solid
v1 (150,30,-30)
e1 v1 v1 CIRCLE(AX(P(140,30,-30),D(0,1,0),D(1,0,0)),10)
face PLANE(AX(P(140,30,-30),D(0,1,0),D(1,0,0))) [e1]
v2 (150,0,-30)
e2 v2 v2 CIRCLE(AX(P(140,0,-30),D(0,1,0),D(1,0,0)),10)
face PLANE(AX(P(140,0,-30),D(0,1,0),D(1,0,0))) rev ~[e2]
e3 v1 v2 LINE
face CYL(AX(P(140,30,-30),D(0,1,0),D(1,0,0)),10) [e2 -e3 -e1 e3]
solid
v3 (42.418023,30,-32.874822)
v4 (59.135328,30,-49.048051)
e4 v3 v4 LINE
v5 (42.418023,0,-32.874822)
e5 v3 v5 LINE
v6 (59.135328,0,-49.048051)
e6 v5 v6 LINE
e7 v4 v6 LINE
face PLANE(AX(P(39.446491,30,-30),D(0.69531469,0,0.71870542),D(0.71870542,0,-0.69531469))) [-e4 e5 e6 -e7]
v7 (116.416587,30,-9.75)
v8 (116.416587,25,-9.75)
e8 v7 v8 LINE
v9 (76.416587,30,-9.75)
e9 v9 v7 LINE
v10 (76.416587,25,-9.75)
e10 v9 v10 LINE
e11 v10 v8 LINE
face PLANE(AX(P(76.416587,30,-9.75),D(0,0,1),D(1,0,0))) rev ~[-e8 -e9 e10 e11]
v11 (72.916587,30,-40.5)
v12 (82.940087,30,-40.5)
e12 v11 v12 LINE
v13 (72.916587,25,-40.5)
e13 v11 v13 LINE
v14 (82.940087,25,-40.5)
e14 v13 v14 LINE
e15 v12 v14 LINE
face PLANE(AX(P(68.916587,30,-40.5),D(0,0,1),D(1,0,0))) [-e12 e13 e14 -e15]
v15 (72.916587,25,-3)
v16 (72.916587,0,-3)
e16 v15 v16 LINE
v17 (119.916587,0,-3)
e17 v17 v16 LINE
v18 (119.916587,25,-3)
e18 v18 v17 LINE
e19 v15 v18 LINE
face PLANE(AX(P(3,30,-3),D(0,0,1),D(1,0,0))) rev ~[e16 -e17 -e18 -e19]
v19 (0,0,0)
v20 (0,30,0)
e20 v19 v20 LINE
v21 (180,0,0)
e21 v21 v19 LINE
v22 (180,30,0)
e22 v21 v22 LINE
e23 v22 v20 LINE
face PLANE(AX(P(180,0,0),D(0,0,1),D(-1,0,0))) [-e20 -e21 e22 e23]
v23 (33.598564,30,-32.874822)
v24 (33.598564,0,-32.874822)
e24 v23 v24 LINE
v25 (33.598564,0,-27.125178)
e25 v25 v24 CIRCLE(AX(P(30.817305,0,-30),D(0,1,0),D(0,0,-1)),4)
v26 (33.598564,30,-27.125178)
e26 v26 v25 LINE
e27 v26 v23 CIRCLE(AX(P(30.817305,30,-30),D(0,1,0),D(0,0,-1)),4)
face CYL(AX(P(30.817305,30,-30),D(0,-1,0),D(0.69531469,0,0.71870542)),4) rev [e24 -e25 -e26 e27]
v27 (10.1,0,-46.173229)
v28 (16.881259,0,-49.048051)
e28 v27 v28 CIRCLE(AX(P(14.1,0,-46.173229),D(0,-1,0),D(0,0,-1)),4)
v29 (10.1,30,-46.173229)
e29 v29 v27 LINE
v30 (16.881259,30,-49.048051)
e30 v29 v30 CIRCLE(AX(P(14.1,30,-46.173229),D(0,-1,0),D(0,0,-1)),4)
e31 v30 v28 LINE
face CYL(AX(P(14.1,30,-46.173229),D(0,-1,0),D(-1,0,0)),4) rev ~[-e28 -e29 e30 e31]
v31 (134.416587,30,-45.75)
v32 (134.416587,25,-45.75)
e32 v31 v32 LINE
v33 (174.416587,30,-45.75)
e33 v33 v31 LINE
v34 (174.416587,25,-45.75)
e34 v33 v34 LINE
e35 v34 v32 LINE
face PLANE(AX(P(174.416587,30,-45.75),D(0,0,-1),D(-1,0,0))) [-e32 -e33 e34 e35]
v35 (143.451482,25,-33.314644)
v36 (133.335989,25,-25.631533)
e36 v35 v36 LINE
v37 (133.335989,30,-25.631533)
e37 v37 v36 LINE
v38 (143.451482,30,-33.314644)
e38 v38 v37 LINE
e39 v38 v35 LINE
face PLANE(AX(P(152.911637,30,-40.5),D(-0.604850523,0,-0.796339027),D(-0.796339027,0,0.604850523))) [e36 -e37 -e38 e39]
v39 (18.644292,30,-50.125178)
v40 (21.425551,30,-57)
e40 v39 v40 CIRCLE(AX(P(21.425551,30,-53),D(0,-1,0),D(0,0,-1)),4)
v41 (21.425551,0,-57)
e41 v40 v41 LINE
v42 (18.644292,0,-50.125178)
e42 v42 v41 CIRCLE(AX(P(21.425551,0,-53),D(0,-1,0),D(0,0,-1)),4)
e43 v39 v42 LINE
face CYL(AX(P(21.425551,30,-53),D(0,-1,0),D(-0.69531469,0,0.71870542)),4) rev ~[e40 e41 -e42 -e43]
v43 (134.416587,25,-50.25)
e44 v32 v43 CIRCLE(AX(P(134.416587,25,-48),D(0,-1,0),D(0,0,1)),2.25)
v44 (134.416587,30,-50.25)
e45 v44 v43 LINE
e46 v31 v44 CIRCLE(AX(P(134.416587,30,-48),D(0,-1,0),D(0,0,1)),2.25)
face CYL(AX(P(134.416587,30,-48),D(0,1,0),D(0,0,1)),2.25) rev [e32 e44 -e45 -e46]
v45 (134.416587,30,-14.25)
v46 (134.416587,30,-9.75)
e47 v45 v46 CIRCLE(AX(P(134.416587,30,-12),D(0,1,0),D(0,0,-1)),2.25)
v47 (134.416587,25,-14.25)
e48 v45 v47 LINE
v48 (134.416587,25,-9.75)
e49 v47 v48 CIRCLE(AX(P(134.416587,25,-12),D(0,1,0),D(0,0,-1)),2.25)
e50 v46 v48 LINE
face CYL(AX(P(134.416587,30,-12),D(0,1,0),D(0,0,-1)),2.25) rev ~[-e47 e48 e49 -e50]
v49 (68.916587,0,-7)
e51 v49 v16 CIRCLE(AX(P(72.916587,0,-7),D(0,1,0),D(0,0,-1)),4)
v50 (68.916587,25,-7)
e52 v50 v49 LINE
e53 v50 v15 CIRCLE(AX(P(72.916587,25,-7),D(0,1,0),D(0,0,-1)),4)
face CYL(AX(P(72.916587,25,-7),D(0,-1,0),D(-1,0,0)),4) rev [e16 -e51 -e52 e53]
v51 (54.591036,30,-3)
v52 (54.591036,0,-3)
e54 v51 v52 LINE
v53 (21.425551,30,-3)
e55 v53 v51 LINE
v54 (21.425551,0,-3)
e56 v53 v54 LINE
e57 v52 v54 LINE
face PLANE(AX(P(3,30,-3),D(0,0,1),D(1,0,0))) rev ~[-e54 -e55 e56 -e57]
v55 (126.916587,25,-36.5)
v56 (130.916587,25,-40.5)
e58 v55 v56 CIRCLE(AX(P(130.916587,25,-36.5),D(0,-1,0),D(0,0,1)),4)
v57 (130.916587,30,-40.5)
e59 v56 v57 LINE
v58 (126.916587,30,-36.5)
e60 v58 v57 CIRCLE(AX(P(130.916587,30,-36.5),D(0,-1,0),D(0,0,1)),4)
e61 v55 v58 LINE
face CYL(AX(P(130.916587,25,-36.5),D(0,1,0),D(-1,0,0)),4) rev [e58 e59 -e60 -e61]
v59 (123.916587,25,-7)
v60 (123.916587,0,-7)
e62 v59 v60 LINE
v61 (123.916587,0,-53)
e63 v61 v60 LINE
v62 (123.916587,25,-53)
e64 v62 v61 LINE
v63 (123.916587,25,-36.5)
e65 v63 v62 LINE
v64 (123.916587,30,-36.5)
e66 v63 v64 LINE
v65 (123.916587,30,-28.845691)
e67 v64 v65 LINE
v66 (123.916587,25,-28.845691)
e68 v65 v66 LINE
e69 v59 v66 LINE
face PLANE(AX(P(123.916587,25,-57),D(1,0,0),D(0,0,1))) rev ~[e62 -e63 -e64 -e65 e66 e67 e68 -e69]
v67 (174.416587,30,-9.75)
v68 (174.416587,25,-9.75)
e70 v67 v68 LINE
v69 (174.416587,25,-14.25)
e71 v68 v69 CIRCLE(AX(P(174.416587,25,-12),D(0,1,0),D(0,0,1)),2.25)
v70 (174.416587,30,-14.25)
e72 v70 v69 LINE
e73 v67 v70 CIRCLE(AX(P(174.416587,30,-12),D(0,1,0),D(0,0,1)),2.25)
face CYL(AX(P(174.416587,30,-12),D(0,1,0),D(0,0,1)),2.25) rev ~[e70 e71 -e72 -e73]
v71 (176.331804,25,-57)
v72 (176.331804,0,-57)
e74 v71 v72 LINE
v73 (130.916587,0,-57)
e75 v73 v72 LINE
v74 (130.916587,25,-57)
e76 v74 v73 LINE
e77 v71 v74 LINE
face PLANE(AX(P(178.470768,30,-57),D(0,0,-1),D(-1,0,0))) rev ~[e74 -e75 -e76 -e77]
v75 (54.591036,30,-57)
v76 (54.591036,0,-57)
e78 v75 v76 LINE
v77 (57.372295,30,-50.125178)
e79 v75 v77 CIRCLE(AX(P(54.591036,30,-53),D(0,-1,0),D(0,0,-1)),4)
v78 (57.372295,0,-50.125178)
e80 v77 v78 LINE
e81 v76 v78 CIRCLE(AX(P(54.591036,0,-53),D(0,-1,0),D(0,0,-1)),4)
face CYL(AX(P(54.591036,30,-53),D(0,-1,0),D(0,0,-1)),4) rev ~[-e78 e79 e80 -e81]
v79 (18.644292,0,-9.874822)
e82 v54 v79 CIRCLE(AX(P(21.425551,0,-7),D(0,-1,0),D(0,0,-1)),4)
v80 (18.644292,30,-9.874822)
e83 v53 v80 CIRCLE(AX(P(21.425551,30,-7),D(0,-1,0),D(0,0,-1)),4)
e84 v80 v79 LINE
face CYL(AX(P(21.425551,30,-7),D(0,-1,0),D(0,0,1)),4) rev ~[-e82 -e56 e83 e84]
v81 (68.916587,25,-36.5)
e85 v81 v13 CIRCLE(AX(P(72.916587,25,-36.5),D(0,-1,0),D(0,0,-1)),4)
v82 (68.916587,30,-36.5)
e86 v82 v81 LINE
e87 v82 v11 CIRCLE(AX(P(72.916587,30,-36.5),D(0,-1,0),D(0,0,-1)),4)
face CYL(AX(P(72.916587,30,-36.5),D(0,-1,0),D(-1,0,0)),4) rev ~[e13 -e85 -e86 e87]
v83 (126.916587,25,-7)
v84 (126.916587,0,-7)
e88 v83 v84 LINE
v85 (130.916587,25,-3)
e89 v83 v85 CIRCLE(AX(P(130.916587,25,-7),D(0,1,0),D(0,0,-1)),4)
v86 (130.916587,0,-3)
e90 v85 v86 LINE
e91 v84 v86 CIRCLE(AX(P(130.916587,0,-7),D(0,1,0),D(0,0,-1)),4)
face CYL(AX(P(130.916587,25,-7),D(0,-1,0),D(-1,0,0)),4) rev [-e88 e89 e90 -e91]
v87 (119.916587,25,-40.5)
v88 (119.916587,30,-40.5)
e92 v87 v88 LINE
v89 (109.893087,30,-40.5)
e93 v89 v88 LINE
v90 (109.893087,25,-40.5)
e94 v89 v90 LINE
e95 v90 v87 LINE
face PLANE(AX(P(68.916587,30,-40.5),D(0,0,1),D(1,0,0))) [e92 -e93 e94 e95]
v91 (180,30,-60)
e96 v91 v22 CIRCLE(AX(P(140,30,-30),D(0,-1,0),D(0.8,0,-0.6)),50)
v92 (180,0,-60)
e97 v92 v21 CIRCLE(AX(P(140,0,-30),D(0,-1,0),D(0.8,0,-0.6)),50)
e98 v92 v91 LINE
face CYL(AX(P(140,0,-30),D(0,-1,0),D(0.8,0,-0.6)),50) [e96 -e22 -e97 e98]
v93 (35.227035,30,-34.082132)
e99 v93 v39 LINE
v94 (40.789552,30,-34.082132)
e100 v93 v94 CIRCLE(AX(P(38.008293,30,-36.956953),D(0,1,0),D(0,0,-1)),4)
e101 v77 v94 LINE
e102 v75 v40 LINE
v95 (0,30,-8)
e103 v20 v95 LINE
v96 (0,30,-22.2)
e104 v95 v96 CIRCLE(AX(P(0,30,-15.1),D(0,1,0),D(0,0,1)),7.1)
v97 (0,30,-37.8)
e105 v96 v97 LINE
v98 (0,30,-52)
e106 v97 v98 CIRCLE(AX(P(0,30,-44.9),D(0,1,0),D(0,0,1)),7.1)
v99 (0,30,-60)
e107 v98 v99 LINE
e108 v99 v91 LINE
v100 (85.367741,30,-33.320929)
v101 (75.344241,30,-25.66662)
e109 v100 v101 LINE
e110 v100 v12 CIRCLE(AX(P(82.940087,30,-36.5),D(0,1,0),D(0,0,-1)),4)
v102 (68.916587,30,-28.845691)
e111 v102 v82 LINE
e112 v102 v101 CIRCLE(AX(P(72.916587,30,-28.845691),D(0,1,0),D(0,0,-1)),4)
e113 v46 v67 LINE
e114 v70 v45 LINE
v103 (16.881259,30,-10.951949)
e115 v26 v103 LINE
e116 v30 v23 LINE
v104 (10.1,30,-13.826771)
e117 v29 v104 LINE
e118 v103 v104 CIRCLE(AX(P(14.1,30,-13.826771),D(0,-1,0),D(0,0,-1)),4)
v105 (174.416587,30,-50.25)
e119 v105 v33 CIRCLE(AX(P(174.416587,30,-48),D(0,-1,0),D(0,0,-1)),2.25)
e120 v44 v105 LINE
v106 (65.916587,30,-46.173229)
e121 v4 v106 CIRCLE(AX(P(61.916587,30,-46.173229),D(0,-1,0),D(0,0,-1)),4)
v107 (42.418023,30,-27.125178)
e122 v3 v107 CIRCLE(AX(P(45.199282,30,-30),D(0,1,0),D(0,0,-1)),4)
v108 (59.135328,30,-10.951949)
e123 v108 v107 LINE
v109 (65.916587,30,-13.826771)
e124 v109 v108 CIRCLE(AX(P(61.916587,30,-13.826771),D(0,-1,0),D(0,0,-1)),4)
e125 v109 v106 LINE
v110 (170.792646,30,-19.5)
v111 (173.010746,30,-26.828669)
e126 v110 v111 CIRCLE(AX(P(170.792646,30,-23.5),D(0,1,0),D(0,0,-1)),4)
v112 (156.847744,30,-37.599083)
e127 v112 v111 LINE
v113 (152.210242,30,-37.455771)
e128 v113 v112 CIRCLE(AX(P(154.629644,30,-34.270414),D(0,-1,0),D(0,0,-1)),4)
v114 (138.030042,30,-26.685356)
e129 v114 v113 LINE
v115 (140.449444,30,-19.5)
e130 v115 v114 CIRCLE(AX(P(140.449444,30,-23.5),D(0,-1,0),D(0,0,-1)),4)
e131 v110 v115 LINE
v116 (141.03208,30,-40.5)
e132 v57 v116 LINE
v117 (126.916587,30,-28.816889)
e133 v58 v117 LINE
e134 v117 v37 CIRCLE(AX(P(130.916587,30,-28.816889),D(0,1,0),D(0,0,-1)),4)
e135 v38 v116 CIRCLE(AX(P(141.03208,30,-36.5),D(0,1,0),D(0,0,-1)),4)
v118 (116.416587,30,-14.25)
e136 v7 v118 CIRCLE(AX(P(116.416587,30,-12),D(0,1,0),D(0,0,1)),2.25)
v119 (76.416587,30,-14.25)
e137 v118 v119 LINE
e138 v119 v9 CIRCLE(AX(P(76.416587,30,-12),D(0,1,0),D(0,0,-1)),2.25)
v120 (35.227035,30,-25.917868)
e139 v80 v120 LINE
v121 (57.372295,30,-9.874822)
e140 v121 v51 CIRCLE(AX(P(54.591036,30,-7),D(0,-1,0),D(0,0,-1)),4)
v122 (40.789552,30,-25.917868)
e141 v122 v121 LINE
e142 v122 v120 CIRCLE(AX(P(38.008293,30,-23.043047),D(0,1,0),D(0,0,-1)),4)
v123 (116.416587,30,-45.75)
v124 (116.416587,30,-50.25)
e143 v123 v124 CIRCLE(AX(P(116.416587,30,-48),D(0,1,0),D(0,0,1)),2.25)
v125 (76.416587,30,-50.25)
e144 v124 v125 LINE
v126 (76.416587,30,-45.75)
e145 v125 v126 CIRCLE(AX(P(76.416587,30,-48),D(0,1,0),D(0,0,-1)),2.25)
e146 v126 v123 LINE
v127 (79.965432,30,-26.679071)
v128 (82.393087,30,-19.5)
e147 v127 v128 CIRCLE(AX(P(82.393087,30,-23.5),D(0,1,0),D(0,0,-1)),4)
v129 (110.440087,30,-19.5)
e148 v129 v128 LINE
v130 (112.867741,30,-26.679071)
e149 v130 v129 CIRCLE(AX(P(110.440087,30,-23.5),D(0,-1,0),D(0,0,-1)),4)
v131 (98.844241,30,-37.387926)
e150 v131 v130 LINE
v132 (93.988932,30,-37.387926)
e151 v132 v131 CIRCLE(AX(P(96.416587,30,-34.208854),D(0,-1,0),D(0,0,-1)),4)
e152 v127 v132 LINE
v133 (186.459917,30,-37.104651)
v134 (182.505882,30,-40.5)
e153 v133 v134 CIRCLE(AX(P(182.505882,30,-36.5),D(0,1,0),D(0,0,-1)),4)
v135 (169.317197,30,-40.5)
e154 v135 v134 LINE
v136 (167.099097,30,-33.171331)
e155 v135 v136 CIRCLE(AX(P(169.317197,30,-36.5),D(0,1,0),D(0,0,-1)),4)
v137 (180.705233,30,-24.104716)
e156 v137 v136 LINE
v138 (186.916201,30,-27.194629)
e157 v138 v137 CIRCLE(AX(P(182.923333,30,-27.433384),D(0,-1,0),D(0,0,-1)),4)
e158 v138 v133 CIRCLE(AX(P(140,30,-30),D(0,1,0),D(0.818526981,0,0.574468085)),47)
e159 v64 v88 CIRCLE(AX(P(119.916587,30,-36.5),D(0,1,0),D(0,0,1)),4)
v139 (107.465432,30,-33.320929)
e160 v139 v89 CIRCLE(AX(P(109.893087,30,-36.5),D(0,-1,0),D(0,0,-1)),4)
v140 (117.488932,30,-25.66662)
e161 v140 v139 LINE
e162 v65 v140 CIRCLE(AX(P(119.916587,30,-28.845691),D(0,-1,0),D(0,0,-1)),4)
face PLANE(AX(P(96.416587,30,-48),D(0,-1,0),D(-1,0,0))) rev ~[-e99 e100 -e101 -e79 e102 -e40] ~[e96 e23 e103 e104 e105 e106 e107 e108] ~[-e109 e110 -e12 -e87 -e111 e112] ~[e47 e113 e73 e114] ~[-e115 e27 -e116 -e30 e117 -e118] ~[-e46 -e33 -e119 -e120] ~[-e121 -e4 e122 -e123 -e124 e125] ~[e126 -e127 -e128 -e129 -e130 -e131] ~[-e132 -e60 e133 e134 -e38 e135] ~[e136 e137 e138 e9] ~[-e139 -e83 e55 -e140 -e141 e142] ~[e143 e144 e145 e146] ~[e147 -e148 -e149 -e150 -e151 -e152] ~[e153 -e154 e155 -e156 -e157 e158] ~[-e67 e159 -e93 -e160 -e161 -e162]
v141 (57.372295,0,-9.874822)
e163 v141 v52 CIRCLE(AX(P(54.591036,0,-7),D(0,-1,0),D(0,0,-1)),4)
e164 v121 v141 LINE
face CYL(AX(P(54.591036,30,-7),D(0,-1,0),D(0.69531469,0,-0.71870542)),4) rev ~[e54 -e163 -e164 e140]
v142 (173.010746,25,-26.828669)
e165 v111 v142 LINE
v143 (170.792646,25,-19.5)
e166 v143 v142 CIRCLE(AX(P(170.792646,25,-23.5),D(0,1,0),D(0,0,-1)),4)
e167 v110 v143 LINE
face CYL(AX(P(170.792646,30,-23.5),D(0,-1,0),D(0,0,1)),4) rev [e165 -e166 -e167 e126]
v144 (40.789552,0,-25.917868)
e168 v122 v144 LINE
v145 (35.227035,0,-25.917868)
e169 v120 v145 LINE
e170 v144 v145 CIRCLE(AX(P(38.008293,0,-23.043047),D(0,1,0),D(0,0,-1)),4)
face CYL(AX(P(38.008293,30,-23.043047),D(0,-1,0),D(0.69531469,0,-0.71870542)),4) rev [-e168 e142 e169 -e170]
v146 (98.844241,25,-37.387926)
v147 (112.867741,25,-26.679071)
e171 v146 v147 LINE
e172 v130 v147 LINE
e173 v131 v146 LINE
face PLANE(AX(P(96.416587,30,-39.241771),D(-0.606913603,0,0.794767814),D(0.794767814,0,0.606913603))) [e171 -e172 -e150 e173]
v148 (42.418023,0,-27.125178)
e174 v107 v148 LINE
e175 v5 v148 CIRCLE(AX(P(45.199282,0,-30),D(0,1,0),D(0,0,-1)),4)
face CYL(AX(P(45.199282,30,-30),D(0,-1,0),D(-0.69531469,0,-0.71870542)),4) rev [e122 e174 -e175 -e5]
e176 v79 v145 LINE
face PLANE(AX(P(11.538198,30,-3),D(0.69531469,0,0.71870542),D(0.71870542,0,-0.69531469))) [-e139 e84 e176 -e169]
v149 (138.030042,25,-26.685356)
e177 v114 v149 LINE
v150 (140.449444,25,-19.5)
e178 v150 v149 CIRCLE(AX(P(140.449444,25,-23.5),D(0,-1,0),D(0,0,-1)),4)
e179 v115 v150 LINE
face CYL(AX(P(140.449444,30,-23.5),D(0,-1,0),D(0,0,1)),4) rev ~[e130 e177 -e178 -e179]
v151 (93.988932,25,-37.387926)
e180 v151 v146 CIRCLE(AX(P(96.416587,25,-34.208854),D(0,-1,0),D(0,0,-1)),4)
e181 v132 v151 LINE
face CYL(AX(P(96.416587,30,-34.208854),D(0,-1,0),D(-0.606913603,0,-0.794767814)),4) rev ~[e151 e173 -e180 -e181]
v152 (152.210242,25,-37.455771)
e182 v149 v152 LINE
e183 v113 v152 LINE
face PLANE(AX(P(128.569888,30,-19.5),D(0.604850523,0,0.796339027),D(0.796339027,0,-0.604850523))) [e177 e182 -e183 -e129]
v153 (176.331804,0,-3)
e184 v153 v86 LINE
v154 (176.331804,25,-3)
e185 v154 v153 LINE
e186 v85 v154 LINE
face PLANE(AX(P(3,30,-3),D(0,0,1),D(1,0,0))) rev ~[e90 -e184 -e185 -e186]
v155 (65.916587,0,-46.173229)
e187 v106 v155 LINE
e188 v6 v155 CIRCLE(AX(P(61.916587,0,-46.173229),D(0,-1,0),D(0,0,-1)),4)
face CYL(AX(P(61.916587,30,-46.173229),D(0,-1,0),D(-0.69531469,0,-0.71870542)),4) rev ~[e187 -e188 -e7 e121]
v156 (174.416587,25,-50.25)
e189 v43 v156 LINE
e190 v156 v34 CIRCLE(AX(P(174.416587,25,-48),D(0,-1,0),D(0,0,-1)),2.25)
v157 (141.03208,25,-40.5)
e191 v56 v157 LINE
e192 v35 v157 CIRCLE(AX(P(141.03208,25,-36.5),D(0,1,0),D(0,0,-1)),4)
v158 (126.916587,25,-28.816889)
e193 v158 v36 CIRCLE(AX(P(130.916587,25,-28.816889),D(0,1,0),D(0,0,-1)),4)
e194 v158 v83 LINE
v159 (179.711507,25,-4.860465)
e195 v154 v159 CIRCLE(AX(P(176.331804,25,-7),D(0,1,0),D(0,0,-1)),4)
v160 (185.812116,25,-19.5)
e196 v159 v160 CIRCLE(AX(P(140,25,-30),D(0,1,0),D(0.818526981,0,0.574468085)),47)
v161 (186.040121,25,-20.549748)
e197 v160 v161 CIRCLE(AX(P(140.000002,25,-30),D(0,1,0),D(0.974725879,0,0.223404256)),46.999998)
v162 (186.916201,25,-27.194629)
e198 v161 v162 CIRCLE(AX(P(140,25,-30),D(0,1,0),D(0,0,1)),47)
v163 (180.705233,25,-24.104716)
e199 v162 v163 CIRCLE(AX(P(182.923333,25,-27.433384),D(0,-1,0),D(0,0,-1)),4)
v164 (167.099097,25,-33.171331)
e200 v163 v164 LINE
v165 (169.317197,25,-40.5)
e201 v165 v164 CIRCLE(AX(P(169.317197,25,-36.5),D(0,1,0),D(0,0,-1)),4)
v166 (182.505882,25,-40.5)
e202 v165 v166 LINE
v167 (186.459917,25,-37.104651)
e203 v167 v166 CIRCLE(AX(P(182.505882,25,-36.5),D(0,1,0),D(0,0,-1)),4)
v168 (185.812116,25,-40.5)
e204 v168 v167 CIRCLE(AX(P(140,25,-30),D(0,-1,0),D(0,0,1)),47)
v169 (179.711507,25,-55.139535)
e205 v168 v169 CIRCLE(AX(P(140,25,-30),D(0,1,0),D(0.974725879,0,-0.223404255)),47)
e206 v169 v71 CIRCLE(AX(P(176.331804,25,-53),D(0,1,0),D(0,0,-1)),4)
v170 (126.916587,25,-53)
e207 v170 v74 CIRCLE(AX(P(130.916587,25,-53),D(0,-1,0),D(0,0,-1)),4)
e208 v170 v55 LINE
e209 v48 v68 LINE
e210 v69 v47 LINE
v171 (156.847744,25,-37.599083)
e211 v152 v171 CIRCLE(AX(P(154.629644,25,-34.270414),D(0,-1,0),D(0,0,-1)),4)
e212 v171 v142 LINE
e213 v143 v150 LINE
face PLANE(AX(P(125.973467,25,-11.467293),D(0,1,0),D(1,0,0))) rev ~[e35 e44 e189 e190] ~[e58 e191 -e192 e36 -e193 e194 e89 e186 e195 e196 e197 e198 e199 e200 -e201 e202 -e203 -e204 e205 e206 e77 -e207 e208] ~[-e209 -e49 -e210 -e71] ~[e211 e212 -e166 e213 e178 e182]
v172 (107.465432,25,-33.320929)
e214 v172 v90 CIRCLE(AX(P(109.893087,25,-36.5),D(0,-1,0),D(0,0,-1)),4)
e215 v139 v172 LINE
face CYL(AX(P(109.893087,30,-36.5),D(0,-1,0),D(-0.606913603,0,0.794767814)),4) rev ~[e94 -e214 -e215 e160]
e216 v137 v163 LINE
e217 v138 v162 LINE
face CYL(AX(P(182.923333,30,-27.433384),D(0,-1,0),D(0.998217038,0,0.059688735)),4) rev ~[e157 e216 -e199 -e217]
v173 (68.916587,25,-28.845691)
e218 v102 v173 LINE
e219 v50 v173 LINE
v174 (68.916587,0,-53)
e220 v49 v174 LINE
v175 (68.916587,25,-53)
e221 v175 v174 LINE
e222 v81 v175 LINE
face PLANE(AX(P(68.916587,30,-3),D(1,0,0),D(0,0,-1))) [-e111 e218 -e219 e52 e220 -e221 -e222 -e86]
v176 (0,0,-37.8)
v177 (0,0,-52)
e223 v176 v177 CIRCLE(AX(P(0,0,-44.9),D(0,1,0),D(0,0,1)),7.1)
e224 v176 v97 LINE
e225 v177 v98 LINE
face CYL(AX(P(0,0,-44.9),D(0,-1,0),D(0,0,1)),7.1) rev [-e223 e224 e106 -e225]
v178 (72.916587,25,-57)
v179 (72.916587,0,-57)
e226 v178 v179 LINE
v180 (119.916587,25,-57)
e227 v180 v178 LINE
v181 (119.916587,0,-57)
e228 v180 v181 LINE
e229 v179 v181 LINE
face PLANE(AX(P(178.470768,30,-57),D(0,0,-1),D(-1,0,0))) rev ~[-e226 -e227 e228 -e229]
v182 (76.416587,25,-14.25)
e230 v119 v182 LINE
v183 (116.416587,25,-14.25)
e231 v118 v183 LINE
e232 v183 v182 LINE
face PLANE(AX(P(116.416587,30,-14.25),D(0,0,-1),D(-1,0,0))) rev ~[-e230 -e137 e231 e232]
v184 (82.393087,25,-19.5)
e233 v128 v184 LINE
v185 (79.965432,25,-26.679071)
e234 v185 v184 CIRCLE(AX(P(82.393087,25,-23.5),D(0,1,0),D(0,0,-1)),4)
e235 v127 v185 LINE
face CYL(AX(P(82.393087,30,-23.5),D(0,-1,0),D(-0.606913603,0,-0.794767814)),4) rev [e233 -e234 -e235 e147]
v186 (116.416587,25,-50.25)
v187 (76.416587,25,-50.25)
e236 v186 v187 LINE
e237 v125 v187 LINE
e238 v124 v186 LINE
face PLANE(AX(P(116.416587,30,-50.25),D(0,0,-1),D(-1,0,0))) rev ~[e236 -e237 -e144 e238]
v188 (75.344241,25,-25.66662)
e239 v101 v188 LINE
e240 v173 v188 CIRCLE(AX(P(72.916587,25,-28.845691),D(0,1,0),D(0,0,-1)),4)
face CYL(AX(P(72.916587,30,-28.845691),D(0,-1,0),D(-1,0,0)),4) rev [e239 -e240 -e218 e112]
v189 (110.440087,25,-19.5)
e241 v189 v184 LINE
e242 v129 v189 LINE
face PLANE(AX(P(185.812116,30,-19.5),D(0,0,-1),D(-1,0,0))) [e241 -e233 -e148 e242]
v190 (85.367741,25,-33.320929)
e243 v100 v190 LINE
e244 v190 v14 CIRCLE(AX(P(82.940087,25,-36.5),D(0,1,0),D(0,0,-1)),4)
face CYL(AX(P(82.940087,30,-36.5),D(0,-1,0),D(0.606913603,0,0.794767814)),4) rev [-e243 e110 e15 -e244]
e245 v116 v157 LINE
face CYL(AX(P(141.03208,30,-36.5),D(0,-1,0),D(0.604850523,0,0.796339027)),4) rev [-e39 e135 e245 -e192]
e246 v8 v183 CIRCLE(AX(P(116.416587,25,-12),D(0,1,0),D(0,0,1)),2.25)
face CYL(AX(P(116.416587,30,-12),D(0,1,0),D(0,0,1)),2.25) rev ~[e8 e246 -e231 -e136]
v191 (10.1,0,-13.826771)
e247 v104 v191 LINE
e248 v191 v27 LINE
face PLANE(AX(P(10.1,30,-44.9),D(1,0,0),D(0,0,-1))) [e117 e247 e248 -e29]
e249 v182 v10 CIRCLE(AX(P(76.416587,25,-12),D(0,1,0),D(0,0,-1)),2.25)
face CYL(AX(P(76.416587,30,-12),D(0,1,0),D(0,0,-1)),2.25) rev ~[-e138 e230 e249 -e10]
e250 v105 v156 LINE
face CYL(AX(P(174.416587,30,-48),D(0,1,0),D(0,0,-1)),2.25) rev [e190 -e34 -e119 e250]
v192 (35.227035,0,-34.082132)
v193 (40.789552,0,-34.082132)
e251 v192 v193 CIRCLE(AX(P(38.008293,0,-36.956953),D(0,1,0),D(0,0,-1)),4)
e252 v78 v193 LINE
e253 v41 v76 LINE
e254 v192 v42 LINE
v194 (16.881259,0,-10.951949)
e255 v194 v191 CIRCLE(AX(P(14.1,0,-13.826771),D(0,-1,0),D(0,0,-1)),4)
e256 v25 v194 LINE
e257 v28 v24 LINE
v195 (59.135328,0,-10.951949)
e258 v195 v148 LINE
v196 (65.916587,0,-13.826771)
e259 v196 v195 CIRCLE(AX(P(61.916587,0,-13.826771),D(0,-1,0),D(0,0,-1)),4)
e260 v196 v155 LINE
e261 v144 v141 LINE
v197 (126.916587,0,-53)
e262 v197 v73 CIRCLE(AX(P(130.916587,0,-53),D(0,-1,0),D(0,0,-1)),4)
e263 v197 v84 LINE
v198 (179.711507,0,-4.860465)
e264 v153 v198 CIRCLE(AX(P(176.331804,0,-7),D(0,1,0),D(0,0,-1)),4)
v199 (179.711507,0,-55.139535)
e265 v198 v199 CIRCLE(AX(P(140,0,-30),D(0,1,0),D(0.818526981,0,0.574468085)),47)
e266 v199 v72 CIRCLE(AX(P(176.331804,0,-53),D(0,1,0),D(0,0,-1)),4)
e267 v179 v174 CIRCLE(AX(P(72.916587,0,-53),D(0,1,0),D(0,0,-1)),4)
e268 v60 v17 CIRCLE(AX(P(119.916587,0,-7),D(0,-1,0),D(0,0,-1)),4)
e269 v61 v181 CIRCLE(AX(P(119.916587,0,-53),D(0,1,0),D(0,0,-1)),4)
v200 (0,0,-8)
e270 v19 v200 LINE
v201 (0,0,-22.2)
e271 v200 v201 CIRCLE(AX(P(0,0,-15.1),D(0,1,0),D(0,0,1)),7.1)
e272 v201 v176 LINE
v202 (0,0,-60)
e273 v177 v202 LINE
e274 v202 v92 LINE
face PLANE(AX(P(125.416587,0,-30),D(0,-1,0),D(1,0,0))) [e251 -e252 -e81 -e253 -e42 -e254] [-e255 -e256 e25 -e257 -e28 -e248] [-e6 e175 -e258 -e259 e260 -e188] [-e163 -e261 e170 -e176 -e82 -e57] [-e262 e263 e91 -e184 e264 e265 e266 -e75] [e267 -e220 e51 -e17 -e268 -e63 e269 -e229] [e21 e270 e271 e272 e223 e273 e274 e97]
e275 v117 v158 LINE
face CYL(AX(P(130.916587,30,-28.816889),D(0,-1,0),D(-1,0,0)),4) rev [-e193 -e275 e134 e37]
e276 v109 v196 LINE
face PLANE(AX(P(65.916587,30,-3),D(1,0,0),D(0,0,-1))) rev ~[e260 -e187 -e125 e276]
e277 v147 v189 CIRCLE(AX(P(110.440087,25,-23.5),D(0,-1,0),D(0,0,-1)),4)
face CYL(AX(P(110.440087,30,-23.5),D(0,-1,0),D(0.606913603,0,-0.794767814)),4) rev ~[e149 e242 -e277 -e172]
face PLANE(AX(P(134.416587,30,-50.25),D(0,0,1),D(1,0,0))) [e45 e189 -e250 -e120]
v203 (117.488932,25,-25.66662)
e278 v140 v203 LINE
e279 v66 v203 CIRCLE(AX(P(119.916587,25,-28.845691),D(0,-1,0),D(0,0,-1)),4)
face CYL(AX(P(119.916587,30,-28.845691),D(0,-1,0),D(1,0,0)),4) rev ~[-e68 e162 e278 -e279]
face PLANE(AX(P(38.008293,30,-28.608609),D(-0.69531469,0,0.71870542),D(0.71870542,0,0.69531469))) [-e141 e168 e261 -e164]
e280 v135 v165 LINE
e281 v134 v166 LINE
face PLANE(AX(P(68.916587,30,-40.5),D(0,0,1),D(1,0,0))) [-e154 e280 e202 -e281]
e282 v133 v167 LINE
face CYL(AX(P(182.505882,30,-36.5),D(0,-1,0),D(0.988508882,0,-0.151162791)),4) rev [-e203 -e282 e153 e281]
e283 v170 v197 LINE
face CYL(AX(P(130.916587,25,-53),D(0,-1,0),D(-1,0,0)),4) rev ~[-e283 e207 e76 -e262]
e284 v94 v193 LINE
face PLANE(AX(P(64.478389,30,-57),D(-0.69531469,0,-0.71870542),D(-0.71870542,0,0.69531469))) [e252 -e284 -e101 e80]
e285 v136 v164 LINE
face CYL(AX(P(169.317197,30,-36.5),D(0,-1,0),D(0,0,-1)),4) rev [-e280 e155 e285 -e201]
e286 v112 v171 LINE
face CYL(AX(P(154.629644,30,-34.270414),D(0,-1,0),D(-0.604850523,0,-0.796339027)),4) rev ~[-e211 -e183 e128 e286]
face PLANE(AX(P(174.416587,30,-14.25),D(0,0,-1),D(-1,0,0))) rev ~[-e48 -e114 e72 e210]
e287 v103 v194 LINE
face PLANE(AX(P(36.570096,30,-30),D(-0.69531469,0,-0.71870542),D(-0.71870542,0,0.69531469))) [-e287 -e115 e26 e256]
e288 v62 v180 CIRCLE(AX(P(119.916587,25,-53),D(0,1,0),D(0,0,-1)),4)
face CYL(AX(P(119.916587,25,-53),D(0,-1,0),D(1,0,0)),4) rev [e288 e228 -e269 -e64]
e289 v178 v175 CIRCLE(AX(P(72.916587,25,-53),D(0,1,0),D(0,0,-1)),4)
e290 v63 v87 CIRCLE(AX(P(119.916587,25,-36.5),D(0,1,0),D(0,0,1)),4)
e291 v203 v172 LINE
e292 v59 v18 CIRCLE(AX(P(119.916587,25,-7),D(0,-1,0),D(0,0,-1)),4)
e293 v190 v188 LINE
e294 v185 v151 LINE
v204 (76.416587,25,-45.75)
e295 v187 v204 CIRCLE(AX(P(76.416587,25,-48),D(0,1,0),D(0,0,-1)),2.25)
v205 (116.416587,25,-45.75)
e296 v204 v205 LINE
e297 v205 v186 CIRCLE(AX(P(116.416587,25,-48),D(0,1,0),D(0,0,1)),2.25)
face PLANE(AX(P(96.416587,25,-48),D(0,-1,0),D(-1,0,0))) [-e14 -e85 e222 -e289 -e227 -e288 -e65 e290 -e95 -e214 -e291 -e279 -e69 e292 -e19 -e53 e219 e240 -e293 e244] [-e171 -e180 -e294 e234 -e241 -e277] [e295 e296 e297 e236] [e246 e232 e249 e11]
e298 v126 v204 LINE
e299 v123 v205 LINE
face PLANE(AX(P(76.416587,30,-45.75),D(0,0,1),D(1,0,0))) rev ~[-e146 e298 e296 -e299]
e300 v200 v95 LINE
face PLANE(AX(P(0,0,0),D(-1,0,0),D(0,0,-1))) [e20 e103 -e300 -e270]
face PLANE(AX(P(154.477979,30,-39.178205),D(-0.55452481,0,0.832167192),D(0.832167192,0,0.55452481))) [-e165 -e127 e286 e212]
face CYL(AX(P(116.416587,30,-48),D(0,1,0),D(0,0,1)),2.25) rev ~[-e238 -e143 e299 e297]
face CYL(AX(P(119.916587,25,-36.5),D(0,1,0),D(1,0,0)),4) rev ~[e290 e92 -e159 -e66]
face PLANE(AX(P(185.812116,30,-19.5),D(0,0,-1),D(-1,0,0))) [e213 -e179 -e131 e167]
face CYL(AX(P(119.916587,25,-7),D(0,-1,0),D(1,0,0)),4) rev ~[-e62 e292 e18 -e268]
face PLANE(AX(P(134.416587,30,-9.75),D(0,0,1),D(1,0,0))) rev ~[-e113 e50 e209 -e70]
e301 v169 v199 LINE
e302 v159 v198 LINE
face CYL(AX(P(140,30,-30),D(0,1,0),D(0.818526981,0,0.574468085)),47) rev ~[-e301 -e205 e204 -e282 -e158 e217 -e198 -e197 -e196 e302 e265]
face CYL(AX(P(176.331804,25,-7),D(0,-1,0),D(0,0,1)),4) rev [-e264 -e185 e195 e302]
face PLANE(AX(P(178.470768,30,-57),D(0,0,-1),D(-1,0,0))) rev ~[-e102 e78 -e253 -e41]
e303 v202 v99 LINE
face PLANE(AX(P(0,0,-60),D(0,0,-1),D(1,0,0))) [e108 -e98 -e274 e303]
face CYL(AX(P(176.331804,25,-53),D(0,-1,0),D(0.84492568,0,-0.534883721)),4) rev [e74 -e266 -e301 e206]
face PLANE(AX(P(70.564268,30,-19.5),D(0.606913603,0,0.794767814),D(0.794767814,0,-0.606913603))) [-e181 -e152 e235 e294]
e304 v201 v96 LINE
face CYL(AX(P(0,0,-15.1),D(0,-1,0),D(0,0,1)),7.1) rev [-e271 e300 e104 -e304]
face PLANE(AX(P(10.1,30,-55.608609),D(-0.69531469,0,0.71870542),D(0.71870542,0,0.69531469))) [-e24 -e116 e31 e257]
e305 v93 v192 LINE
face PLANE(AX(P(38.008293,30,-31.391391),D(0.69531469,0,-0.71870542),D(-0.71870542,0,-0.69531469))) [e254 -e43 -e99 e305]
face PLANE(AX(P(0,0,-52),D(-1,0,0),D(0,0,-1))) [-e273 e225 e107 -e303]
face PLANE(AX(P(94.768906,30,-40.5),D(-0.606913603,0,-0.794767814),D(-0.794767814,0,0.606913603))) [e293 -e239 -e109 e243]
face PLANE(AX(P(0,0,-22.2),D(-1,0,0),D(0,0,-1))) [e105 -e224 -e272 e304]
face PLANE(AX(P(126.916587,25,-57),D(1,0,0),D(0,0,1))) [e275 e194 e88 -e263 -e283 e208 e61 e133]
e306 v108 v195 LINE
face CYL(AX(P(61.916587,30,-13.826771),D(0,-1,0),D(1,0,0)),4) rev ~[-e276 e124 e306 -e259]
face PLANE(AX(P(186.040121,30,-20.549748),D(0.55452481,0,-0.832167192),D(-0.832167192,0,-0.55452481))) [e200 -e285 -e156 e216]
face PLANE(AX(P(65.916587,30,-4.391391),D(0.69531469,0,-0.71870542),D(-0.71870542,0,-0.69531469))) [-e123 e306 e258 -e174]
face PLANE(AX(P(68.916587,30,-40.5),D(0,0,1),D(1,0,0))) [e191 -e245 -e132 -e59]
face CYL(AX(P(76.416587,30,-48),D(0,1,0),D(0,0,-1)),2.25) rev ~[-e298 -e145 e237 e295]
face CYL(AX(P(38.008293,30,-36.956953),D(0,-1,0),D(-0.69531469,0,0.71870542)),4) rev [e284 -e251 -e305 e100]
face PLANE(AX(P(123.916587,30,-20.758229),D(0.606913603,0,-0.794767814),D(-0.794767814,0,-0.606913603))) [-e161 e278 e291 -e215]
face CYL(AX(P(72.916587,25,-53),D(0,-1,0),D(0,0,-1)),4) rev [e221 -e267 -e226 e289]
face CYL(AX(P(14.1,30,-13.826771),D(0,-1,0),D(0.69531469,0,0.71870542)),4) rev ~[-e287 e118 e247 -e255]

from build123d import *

# Parameters (mm, degrees)
EXTRUDE_1_DEPTH      = 30
CUT_EXTRUDE_1_DEPTH  = 31
TEMP_R               = 10
EXTRUDE_2_DEPTH      = 30
EXTRUDE_3_DEPTH      = 5
EXTRUDE_4_DEPTH      = 30
SKETCH_6_W           = 3
SKETCH_6_H           = 54
EXTRUDE_5_DEPTH      = 30
EXTRUDE_6_DEPTH      = 30
SKETCH_9_W           = 3
SKETCH_9_H           = 54
EXTRUDE_8_DEPTH      = 25
EXTRUDE_8_DEPTH_BACK = 5
EXTRUDE_7_DEPTH      = 5
FILLET_1_R           = 4
FILLET_2_R           = 4
FILLET_3_R           = 4
EXTRUDE_9_DEPTH      = 5


with BuildPart() as part:
    # Эскиз1 → Бобышка-Вытянуть1 (new body)
    with BuildSketch(Plane(origin=(0, 0, 0), x_dir=(1, 0, 0), z_dir=(0, 1, 0))):
        with BuildLine():
            Line((0, 60), (180, 60))
            ThreePointArc((180, 60), (190, 30), (180, 0))
            Line((180, 0), (0, 0))
            Line((0, 0), (0, 8))
            ThreePointArc((0, 8), (7.1, 15.1), (0, 22.2))
            Line((0, 22.2), (0, 37.8))
            ThreePointArc((0, 37.8), (7.1, 44.9), (0, 52))
            Line((0, 52), (0, 60))
        make_face()
    extrude(amount=EXTRUDE_1_DEPTH)

    # Эскиз2 → Вырез-Вытянуть1 (cut, through all)
    with BuildSketch(Plane(origin=(0, 30, 0), x_dir=(1, 0, 0), z_dir=(0, 1, 0))):
        with BuildLine():
            Line((3, 3), (178.470768123, 3))
            ThreePointArc((178.470768123, 3), (187, 30), (178.470768123, 57))
            Line((178.470768123, 57), (3, 57))
            Line((3, 57), (3, 54.544169223))
            ThreePointArc((3, 54.544169223), (10.1, 44.9), (3, 35.255830777))
            Line((3, 35.255830777), (3, 24.744169223))
            ThreePointArc((3, 24.744169223), (10.1, 15.1), (3, 5.455830777))
            Line((3, 5.455830777), (3, 3))
        make_face()
    extrude(amount=-CUT_EXTRUDE_1_DEPTH, mode=Mode.SUBTRACT)

    # Эскиз3 → Бобышка-Вытянуть3 (add)
    with BuildSketch(Plane(origin=(0, 30, 0), x_dir=(1, 0, 0), z_dir=(0, 1, 0))):
        with BuildLine():
            Line((178.470768123, 57), (68.916586692, 57))
            Line((68.916586692, 57), (68.916586692, 40.5))
            Line((68.916586692, 40.5), (185.812116301, 40.5))
            ThreePointArc((185.812116301, 40.5), (182.941397878, 49.105924428), (178.470768123, 57))
        make_face()
        with BuildLine():
            Line((116.416586692, 43.5), (76.416586692, 43.5))
            ThreePointArc((76.416586692, 43.5), (71.916586692, 48), (76.416586692, 52.5))
            Line((76.416586692, 52.5), (116.416586692, 52.5))
            ThreePointArc((116.416586692, 52.5), (120.916586692, 48), (116.416586692, 43.5))
        make_face(mode=Mode.SUBTRACT)
        with BuildLine():
            ThreePointArc((174.416586692, 52.5), (178.916586692, 48), (174.416586692, 43.5))
            Line((174.416586692, 43.5), (134.416586692, 43.5))
            ThreePointArc((134.416586692, 43.5), (129.916586692, 48), (134.416586692, 52.5))
            Line((134.416586692, 52.5), (174.416586692, 52.5))
        make_face(mode=Mode.SUBTRACT)
        with BuildLine():
            ThreePointArc((178.470768123, 3), (182.941397878, 10.894075572), (185.812116301, 19.5))
            Line((185.812116301, 19.5), (68.916586692, 19.5))
            Line((68.916586692, 19.5), (68.916586692, 3))
            Line((68.916586692, 3), (178.470768123, 3))
        make_face()
        with BuildLine():
            ThreePointArc((76.416586692, 7.5), (71.916586692, 12), (76.416586692, 16.5))
            Line((76.416586692, 16.5), (116.416586692, 16.5))
            ThreePointArc((116.416586692, 16.5), (120.916586692, 12), (116.416586692, 7.5))
            Line((116.416586692, 7.5), (76.416586692, 7.5))
        make_face(mode=Mode.SUBTRACT)
        with BuildLine():
            Line((134.416586692, 16.5), (174.416586692, 16.5))
            ThreePointArc((174.416586692, 16.5), (178.916586692, 12), (174.416586692, 7.5))
            Line((174.416586692, 7.5), (134.416586692, 7.5))
            ThreePointArc((134.416586692, 7.5), (129.916586692, 12), (134.416586692, 16.5))
        make_face(mode=Mode.SUBTRACT)
    extrude(amount=-EXTRUDE_3_DEPTH)

    # Эскиз4 → Бобышка-Вытянуть4 (add, through all)
    with BuildSketch(Plane(origin=(0, 30, 0), x_dir=(1, 0, 0), z_dir=(0, 1, 0))):
        with BuildLine():
            Line((10.1, 57), (3, 57))
            Line((3, 57), (3, 54.544169223))
            ThreePointArc((3, 54.544169223), (8.133572401, 50.887904475), (10.1, 44.9))
            Line((10.1, 44.9), (10.1, 57))
        make_face()
        with BuildLine():
            Line((10.1, 15.100000017), (10.1, 44.9))
            ThreePointArc((10.1, 44.9), (8.133572401, 38.912095525), (3, 35.255830777))
            Line((3, 35.255830777), (3, 24.744169223))
            ThreePointArc((3, 24.744169223), (8.133572396, 21.087904482), (10.1, 15.100000017))
        make_face()
        with BuildLine():
            Line((10.1, 3), (10.1, 15.100000017))
            ThreePointArc((10.1, 15.100000017), (8.133572406, 9.112095532), (3, 5.455830777))
            Line((3, 5.455830777), (3, 3))
            Line((3, 3), (10.1, 3))
        make_face()
    extrude(amount=-EXTRUDE_4_DEPTH)

    # Эскиз6 → Бобышка-Вытянуть5 (add, through all)
    with BuildSketch(Plane(origin=(0, 30, 0), x_dir=(1, 0, 0), z_dir=(0, 1, 0))):
        with Locations((67.416586692, 30)):
            Rectangle(SKETCH_6_W, SKETCH_6_H)
    extrude(amount=-EXTRUDE_5_DEPTH)

    # Эскиз7 → Бобышка-Вытянуть6 (add, through all)
    with BuildSketch(Plane(origin=(0, 30, 0), x_dir=(1, 0, 0), z_dir=(0, 1, 0))):
        Polygon((10.1, 55.608609353), (36.57009563, 30), (10.1, 4.391390647), (10.1, 3), (11.538197716, 3), (38.008293346, 28.608609353), (64.478388976, 3), (65.916586692, 3), (65.916586692, 4.391390647), (39.446491062, 30), (65.916586692, 55.608609353), (65.916586692, 57), (64.478388976, 57), (38.008293346, 31.391390647), (11.538197716, 57), (10.1, 57), align=None)
    extrude(amount=-EXTRUDE_6_DEPTH)

    # Эскиз9 → Бобышка-Вытянуть8 (add, two sides)
    with BuildSketch(Plane.XZ.offset(-25)) as extrude_8_sk:
        with Locations((125.416586692, -30)):
            Rectangle(SKETCH_9_W, SKETCH_9_H)
    extrude(amount=EXTRUDE_8_DEPTH)
    extrude(extrude_8_sk.sketch, amount=-EXTRUDE_8_DEPTH_BACK)

    # Эскиз8 → Бобышка-Вытянуть7 (add)
    with BuildSketch(Plane(origin=(0, 30, 0), x_dir=(1, 0, 0), z_dir=(0, 1, 0))):
        Polygon((70.564267671, 19.5), (96.416586692, 39.241770889), (122.268905713, 19.5), (123.916586692, 19.5), (123.916586692, 20.758229111), (98.064267671, 40.5), (94.768905713, 40.5), (68.916586692, 20.758229111), (68.916586692, 19.5), align=None)
        with BuildLine():
            Line((128.569887735, 19.5), (154.477979009, 39.178204914))
            Line((154.477979009, 39.178204914), (184.008770478, 19.5))
            Line((184.008770478, 19.5), (185.812116301, 19.5))
            ThreePointArc((185.812116301, 19.5), (185.929117822, 20.024222532), (186.040120933, 20.549747915))
            Line((186.040120933, 20.549747915), (156.101072293, 40.5))
            Line((156.101072293, 40.5), (152.911636662, 40.5))
            Line((152.911636662, 40.5), (126.916586692, 20.755746568))
            Line((126.916586692, 20.755746568), (126.916586692, 19.5))
            Line((126.916586692, 19.5), (128.569887735, 19.5))
        make_face()
    extrude(amount=-EXTRUDE_7_DEPTH)

    # Скругление1
    fillet_1_edges = [part.edges().sort_by_distance(p)[0] for p in [
        (10.1, 15, -4.391390647),
        (36.57009563, 15, -30),
        (10.1, 15, -55.608609353),
        (11.538197716, 15, -57),
        (38.008293346, 15, -31.391390647),
        (64.478388976, 15, -57),
        (65.916586692, 15, -55.608609353),
        (39.446491062, 15, -30),
        (65.916586692, 15, -4.391390647),
        (64.478388976, 15, -3),
        (38.008293346, 15, -28.608609353),
        (11.538197716, 15, -3),
    ]]
    fillet(fillet_1_edges, radius=FILLET_1_R)

    # Скругление2
    fillet_2_edges = [part.edges().sort_by_distance(p)[0] for p in [
        (68.916586692, 12.5, -57),
        (68.916586692, 12.5, -3),
        (123.916586692, 12.5, -57),
        (126.916586692, 12.5, -3),
        (123.916586692, 12.5, -3),
        (126.916586692, 12.5, -57),
        (178.470768123, 12.5, -57),
        (178.470768123, 12.5, -3),
    ]]
    fillet(fillet_2_edges, radius=FILLET_2_R)

    # Скругление3
    fillet_3_edges = [part.edges().sort_by_distance(p)[0] for p in [
        (123.916586692, 27.5, -40.5),
        (126.916586692, 27.5, -40.5),
        (70.564267671, 27.5, -19.5),
        (68.916586692, 27.5, -20.758229111),
        (94.768905713, 27.5, -40.5),
        (98.064267671, 27.5, -40.5),
        (123.916586692, 27.5, -20.758229111),
        (122.268905713, 27.5, -19.5),
        (96.416586692, 27.5, -39.241770889),
        (128.569887735, 27.5, -19.5),
        (126.916586692, 27.5, -20.755746568),
        (152.911636662, 27.5, -40.5),
        (156.101072293, 27.5, -40.5),
        (186.040120933, 27.5, -20.549747915),
        (184.008770478, 27.5, -19.5),
        (154.477979009, 27.5, -39.178204914),
        (68.916586692, 27.5, -40.5),
        (185.812116301, 27.5, -40.5),
    ]]
    fillet(fillet_3_edges, radius=FILLET_3_R)

    # Эскиз10 → Бобышка-Вытянуть9 (add)
    with BuildSketch(Plane(origin=(0, 30, 0), x_dir=(1, 0, 0), z_dir=(0, 1, 0))):
        with BuildLine():
            Line((76.416586692, 52.5), (116.416586692, 52.5))
            ThreePointArc((116.416586692, 52.5), (120.916586692, 48), (116.416586692, 43.5))
            Line((116.416586692, 43.5), (76.416586692, 43.5))
            ThreePointArc((76.416586692, 43.5), (71.916586692, 48), (76.416586692, 52.5))
        make_face()
        with BuildLine():
            Line((116.416586692, 50.25), (76.416586692, 50.25))
            ThreePointArc((76.416586692, 50.25), (74.166586692, 48), (76.416586692, 45.75))
            Line((76.416586692, 45.75), (116.416586692, 45.75))
            ThreePointArc((116.416586692, 45.75), (118.666586692, 48), (116.416586692, 50.25))
        make_face(mode=Mode.SUBTRACT)
        with BuildLine():
            Line((174.416586692, 52.5), (134.416586692, 52.5))
            ThreePointArc((134.416586692, 52.5), (129.916586692, 48), (134.416586692, 43.5))
            Line((134.416586692, 43.5), (174.416586692, 43.5))
            ThreePointArc((174.416586692, 43.5), (178.916586692, 48), (174.416586692, 52.5))
        make_face()
        with BuildLine():
            Line((174.416586692, 45.75), (134.416586692, 45.75))
            ThreePointArc((134.416586692, 45.75), (132.166586692, 48), (134.416586692, 50.25))
            Line((134.416586692, 50.25), (174.416586692, 50.25))
            ThreePointArc((174.416586692, 50.25), (176.666586692, 48), (174.416586692, 45.75))
        make_face(mode=Mode.SUBTRACT)
        with BuildLine():
            Line((76.416586692, 16.5), (116.416586692, 16.5))
            ThreePointArc((116.416586692, 16.5), (120.916586692, 12), (116.416586692, 7.5))
            Line((116.416586692, 7.5), (76.416586692, 7.5))
            ThreePointArc((76.416586692, 7.5), (71.916586692, 12), (76.416586692, 16.5))
        make_face()
        with BuildLine():
            Line((76.416586692, 9.75), (116.416586692, 9.75))
            ThreePointArc((116.416586692, 9.75), (118.666586692, 12), (116.416586692, 14.25))
            Line((116.416586692, 14.25), (76.416586692, 14.25))
            ThreePointArc((76.416586692, 14.25), (74.166586692, 12), (76.416586692, 9.75))
        make_face(mode=Mode.SUBTRACT)
        with BuildLine():
            Line((174.416586692, 16.5), (134.416586692, 16.5))
            ThreePointArc((134.416586692, 16.5), (129.916586692, 12), (134.416586692, 7.5))
            Line((134.416586692, 7.5), (174.416586692, 7.5))
            ThreePointArc((174.416586692, 7.5), (178.916586692, 12), (174.416586692, 16.5))
        make_face()
        with BuildLine():
            Line((174.416586692, 14.25), (134.416586692, 14.25))
            ThreePointArc((134.416586692, 14.25), (132.166586692, 12), (134.416586692, 9.75))
            Line((134.416586692, 9.75), (174.416586692, 9.75))
            ThreePointArc((174.416586692, 9.75), (176.666586692, 12), (174.416586692, 14.25))
        make_face(mode=Mode.SUBTRACT)
    extrude(amount=-EXTRUDE_9_DEPTH)


with BuildPart() as body_2:
    # Temp → Бобышка-Вытянуть2 (new body)
    with BuildSketch(Plane(origin=(0, 30, 0), x_dir=(1, 0, 0), z_dir=(0, 1, 0))):
        with Locations((140, 30)):
            Circle(TEMP_R)
    extrude(amount=-EXTRUDE_2_DEPTH)


solid = Compound([part.part, body_2.part])
